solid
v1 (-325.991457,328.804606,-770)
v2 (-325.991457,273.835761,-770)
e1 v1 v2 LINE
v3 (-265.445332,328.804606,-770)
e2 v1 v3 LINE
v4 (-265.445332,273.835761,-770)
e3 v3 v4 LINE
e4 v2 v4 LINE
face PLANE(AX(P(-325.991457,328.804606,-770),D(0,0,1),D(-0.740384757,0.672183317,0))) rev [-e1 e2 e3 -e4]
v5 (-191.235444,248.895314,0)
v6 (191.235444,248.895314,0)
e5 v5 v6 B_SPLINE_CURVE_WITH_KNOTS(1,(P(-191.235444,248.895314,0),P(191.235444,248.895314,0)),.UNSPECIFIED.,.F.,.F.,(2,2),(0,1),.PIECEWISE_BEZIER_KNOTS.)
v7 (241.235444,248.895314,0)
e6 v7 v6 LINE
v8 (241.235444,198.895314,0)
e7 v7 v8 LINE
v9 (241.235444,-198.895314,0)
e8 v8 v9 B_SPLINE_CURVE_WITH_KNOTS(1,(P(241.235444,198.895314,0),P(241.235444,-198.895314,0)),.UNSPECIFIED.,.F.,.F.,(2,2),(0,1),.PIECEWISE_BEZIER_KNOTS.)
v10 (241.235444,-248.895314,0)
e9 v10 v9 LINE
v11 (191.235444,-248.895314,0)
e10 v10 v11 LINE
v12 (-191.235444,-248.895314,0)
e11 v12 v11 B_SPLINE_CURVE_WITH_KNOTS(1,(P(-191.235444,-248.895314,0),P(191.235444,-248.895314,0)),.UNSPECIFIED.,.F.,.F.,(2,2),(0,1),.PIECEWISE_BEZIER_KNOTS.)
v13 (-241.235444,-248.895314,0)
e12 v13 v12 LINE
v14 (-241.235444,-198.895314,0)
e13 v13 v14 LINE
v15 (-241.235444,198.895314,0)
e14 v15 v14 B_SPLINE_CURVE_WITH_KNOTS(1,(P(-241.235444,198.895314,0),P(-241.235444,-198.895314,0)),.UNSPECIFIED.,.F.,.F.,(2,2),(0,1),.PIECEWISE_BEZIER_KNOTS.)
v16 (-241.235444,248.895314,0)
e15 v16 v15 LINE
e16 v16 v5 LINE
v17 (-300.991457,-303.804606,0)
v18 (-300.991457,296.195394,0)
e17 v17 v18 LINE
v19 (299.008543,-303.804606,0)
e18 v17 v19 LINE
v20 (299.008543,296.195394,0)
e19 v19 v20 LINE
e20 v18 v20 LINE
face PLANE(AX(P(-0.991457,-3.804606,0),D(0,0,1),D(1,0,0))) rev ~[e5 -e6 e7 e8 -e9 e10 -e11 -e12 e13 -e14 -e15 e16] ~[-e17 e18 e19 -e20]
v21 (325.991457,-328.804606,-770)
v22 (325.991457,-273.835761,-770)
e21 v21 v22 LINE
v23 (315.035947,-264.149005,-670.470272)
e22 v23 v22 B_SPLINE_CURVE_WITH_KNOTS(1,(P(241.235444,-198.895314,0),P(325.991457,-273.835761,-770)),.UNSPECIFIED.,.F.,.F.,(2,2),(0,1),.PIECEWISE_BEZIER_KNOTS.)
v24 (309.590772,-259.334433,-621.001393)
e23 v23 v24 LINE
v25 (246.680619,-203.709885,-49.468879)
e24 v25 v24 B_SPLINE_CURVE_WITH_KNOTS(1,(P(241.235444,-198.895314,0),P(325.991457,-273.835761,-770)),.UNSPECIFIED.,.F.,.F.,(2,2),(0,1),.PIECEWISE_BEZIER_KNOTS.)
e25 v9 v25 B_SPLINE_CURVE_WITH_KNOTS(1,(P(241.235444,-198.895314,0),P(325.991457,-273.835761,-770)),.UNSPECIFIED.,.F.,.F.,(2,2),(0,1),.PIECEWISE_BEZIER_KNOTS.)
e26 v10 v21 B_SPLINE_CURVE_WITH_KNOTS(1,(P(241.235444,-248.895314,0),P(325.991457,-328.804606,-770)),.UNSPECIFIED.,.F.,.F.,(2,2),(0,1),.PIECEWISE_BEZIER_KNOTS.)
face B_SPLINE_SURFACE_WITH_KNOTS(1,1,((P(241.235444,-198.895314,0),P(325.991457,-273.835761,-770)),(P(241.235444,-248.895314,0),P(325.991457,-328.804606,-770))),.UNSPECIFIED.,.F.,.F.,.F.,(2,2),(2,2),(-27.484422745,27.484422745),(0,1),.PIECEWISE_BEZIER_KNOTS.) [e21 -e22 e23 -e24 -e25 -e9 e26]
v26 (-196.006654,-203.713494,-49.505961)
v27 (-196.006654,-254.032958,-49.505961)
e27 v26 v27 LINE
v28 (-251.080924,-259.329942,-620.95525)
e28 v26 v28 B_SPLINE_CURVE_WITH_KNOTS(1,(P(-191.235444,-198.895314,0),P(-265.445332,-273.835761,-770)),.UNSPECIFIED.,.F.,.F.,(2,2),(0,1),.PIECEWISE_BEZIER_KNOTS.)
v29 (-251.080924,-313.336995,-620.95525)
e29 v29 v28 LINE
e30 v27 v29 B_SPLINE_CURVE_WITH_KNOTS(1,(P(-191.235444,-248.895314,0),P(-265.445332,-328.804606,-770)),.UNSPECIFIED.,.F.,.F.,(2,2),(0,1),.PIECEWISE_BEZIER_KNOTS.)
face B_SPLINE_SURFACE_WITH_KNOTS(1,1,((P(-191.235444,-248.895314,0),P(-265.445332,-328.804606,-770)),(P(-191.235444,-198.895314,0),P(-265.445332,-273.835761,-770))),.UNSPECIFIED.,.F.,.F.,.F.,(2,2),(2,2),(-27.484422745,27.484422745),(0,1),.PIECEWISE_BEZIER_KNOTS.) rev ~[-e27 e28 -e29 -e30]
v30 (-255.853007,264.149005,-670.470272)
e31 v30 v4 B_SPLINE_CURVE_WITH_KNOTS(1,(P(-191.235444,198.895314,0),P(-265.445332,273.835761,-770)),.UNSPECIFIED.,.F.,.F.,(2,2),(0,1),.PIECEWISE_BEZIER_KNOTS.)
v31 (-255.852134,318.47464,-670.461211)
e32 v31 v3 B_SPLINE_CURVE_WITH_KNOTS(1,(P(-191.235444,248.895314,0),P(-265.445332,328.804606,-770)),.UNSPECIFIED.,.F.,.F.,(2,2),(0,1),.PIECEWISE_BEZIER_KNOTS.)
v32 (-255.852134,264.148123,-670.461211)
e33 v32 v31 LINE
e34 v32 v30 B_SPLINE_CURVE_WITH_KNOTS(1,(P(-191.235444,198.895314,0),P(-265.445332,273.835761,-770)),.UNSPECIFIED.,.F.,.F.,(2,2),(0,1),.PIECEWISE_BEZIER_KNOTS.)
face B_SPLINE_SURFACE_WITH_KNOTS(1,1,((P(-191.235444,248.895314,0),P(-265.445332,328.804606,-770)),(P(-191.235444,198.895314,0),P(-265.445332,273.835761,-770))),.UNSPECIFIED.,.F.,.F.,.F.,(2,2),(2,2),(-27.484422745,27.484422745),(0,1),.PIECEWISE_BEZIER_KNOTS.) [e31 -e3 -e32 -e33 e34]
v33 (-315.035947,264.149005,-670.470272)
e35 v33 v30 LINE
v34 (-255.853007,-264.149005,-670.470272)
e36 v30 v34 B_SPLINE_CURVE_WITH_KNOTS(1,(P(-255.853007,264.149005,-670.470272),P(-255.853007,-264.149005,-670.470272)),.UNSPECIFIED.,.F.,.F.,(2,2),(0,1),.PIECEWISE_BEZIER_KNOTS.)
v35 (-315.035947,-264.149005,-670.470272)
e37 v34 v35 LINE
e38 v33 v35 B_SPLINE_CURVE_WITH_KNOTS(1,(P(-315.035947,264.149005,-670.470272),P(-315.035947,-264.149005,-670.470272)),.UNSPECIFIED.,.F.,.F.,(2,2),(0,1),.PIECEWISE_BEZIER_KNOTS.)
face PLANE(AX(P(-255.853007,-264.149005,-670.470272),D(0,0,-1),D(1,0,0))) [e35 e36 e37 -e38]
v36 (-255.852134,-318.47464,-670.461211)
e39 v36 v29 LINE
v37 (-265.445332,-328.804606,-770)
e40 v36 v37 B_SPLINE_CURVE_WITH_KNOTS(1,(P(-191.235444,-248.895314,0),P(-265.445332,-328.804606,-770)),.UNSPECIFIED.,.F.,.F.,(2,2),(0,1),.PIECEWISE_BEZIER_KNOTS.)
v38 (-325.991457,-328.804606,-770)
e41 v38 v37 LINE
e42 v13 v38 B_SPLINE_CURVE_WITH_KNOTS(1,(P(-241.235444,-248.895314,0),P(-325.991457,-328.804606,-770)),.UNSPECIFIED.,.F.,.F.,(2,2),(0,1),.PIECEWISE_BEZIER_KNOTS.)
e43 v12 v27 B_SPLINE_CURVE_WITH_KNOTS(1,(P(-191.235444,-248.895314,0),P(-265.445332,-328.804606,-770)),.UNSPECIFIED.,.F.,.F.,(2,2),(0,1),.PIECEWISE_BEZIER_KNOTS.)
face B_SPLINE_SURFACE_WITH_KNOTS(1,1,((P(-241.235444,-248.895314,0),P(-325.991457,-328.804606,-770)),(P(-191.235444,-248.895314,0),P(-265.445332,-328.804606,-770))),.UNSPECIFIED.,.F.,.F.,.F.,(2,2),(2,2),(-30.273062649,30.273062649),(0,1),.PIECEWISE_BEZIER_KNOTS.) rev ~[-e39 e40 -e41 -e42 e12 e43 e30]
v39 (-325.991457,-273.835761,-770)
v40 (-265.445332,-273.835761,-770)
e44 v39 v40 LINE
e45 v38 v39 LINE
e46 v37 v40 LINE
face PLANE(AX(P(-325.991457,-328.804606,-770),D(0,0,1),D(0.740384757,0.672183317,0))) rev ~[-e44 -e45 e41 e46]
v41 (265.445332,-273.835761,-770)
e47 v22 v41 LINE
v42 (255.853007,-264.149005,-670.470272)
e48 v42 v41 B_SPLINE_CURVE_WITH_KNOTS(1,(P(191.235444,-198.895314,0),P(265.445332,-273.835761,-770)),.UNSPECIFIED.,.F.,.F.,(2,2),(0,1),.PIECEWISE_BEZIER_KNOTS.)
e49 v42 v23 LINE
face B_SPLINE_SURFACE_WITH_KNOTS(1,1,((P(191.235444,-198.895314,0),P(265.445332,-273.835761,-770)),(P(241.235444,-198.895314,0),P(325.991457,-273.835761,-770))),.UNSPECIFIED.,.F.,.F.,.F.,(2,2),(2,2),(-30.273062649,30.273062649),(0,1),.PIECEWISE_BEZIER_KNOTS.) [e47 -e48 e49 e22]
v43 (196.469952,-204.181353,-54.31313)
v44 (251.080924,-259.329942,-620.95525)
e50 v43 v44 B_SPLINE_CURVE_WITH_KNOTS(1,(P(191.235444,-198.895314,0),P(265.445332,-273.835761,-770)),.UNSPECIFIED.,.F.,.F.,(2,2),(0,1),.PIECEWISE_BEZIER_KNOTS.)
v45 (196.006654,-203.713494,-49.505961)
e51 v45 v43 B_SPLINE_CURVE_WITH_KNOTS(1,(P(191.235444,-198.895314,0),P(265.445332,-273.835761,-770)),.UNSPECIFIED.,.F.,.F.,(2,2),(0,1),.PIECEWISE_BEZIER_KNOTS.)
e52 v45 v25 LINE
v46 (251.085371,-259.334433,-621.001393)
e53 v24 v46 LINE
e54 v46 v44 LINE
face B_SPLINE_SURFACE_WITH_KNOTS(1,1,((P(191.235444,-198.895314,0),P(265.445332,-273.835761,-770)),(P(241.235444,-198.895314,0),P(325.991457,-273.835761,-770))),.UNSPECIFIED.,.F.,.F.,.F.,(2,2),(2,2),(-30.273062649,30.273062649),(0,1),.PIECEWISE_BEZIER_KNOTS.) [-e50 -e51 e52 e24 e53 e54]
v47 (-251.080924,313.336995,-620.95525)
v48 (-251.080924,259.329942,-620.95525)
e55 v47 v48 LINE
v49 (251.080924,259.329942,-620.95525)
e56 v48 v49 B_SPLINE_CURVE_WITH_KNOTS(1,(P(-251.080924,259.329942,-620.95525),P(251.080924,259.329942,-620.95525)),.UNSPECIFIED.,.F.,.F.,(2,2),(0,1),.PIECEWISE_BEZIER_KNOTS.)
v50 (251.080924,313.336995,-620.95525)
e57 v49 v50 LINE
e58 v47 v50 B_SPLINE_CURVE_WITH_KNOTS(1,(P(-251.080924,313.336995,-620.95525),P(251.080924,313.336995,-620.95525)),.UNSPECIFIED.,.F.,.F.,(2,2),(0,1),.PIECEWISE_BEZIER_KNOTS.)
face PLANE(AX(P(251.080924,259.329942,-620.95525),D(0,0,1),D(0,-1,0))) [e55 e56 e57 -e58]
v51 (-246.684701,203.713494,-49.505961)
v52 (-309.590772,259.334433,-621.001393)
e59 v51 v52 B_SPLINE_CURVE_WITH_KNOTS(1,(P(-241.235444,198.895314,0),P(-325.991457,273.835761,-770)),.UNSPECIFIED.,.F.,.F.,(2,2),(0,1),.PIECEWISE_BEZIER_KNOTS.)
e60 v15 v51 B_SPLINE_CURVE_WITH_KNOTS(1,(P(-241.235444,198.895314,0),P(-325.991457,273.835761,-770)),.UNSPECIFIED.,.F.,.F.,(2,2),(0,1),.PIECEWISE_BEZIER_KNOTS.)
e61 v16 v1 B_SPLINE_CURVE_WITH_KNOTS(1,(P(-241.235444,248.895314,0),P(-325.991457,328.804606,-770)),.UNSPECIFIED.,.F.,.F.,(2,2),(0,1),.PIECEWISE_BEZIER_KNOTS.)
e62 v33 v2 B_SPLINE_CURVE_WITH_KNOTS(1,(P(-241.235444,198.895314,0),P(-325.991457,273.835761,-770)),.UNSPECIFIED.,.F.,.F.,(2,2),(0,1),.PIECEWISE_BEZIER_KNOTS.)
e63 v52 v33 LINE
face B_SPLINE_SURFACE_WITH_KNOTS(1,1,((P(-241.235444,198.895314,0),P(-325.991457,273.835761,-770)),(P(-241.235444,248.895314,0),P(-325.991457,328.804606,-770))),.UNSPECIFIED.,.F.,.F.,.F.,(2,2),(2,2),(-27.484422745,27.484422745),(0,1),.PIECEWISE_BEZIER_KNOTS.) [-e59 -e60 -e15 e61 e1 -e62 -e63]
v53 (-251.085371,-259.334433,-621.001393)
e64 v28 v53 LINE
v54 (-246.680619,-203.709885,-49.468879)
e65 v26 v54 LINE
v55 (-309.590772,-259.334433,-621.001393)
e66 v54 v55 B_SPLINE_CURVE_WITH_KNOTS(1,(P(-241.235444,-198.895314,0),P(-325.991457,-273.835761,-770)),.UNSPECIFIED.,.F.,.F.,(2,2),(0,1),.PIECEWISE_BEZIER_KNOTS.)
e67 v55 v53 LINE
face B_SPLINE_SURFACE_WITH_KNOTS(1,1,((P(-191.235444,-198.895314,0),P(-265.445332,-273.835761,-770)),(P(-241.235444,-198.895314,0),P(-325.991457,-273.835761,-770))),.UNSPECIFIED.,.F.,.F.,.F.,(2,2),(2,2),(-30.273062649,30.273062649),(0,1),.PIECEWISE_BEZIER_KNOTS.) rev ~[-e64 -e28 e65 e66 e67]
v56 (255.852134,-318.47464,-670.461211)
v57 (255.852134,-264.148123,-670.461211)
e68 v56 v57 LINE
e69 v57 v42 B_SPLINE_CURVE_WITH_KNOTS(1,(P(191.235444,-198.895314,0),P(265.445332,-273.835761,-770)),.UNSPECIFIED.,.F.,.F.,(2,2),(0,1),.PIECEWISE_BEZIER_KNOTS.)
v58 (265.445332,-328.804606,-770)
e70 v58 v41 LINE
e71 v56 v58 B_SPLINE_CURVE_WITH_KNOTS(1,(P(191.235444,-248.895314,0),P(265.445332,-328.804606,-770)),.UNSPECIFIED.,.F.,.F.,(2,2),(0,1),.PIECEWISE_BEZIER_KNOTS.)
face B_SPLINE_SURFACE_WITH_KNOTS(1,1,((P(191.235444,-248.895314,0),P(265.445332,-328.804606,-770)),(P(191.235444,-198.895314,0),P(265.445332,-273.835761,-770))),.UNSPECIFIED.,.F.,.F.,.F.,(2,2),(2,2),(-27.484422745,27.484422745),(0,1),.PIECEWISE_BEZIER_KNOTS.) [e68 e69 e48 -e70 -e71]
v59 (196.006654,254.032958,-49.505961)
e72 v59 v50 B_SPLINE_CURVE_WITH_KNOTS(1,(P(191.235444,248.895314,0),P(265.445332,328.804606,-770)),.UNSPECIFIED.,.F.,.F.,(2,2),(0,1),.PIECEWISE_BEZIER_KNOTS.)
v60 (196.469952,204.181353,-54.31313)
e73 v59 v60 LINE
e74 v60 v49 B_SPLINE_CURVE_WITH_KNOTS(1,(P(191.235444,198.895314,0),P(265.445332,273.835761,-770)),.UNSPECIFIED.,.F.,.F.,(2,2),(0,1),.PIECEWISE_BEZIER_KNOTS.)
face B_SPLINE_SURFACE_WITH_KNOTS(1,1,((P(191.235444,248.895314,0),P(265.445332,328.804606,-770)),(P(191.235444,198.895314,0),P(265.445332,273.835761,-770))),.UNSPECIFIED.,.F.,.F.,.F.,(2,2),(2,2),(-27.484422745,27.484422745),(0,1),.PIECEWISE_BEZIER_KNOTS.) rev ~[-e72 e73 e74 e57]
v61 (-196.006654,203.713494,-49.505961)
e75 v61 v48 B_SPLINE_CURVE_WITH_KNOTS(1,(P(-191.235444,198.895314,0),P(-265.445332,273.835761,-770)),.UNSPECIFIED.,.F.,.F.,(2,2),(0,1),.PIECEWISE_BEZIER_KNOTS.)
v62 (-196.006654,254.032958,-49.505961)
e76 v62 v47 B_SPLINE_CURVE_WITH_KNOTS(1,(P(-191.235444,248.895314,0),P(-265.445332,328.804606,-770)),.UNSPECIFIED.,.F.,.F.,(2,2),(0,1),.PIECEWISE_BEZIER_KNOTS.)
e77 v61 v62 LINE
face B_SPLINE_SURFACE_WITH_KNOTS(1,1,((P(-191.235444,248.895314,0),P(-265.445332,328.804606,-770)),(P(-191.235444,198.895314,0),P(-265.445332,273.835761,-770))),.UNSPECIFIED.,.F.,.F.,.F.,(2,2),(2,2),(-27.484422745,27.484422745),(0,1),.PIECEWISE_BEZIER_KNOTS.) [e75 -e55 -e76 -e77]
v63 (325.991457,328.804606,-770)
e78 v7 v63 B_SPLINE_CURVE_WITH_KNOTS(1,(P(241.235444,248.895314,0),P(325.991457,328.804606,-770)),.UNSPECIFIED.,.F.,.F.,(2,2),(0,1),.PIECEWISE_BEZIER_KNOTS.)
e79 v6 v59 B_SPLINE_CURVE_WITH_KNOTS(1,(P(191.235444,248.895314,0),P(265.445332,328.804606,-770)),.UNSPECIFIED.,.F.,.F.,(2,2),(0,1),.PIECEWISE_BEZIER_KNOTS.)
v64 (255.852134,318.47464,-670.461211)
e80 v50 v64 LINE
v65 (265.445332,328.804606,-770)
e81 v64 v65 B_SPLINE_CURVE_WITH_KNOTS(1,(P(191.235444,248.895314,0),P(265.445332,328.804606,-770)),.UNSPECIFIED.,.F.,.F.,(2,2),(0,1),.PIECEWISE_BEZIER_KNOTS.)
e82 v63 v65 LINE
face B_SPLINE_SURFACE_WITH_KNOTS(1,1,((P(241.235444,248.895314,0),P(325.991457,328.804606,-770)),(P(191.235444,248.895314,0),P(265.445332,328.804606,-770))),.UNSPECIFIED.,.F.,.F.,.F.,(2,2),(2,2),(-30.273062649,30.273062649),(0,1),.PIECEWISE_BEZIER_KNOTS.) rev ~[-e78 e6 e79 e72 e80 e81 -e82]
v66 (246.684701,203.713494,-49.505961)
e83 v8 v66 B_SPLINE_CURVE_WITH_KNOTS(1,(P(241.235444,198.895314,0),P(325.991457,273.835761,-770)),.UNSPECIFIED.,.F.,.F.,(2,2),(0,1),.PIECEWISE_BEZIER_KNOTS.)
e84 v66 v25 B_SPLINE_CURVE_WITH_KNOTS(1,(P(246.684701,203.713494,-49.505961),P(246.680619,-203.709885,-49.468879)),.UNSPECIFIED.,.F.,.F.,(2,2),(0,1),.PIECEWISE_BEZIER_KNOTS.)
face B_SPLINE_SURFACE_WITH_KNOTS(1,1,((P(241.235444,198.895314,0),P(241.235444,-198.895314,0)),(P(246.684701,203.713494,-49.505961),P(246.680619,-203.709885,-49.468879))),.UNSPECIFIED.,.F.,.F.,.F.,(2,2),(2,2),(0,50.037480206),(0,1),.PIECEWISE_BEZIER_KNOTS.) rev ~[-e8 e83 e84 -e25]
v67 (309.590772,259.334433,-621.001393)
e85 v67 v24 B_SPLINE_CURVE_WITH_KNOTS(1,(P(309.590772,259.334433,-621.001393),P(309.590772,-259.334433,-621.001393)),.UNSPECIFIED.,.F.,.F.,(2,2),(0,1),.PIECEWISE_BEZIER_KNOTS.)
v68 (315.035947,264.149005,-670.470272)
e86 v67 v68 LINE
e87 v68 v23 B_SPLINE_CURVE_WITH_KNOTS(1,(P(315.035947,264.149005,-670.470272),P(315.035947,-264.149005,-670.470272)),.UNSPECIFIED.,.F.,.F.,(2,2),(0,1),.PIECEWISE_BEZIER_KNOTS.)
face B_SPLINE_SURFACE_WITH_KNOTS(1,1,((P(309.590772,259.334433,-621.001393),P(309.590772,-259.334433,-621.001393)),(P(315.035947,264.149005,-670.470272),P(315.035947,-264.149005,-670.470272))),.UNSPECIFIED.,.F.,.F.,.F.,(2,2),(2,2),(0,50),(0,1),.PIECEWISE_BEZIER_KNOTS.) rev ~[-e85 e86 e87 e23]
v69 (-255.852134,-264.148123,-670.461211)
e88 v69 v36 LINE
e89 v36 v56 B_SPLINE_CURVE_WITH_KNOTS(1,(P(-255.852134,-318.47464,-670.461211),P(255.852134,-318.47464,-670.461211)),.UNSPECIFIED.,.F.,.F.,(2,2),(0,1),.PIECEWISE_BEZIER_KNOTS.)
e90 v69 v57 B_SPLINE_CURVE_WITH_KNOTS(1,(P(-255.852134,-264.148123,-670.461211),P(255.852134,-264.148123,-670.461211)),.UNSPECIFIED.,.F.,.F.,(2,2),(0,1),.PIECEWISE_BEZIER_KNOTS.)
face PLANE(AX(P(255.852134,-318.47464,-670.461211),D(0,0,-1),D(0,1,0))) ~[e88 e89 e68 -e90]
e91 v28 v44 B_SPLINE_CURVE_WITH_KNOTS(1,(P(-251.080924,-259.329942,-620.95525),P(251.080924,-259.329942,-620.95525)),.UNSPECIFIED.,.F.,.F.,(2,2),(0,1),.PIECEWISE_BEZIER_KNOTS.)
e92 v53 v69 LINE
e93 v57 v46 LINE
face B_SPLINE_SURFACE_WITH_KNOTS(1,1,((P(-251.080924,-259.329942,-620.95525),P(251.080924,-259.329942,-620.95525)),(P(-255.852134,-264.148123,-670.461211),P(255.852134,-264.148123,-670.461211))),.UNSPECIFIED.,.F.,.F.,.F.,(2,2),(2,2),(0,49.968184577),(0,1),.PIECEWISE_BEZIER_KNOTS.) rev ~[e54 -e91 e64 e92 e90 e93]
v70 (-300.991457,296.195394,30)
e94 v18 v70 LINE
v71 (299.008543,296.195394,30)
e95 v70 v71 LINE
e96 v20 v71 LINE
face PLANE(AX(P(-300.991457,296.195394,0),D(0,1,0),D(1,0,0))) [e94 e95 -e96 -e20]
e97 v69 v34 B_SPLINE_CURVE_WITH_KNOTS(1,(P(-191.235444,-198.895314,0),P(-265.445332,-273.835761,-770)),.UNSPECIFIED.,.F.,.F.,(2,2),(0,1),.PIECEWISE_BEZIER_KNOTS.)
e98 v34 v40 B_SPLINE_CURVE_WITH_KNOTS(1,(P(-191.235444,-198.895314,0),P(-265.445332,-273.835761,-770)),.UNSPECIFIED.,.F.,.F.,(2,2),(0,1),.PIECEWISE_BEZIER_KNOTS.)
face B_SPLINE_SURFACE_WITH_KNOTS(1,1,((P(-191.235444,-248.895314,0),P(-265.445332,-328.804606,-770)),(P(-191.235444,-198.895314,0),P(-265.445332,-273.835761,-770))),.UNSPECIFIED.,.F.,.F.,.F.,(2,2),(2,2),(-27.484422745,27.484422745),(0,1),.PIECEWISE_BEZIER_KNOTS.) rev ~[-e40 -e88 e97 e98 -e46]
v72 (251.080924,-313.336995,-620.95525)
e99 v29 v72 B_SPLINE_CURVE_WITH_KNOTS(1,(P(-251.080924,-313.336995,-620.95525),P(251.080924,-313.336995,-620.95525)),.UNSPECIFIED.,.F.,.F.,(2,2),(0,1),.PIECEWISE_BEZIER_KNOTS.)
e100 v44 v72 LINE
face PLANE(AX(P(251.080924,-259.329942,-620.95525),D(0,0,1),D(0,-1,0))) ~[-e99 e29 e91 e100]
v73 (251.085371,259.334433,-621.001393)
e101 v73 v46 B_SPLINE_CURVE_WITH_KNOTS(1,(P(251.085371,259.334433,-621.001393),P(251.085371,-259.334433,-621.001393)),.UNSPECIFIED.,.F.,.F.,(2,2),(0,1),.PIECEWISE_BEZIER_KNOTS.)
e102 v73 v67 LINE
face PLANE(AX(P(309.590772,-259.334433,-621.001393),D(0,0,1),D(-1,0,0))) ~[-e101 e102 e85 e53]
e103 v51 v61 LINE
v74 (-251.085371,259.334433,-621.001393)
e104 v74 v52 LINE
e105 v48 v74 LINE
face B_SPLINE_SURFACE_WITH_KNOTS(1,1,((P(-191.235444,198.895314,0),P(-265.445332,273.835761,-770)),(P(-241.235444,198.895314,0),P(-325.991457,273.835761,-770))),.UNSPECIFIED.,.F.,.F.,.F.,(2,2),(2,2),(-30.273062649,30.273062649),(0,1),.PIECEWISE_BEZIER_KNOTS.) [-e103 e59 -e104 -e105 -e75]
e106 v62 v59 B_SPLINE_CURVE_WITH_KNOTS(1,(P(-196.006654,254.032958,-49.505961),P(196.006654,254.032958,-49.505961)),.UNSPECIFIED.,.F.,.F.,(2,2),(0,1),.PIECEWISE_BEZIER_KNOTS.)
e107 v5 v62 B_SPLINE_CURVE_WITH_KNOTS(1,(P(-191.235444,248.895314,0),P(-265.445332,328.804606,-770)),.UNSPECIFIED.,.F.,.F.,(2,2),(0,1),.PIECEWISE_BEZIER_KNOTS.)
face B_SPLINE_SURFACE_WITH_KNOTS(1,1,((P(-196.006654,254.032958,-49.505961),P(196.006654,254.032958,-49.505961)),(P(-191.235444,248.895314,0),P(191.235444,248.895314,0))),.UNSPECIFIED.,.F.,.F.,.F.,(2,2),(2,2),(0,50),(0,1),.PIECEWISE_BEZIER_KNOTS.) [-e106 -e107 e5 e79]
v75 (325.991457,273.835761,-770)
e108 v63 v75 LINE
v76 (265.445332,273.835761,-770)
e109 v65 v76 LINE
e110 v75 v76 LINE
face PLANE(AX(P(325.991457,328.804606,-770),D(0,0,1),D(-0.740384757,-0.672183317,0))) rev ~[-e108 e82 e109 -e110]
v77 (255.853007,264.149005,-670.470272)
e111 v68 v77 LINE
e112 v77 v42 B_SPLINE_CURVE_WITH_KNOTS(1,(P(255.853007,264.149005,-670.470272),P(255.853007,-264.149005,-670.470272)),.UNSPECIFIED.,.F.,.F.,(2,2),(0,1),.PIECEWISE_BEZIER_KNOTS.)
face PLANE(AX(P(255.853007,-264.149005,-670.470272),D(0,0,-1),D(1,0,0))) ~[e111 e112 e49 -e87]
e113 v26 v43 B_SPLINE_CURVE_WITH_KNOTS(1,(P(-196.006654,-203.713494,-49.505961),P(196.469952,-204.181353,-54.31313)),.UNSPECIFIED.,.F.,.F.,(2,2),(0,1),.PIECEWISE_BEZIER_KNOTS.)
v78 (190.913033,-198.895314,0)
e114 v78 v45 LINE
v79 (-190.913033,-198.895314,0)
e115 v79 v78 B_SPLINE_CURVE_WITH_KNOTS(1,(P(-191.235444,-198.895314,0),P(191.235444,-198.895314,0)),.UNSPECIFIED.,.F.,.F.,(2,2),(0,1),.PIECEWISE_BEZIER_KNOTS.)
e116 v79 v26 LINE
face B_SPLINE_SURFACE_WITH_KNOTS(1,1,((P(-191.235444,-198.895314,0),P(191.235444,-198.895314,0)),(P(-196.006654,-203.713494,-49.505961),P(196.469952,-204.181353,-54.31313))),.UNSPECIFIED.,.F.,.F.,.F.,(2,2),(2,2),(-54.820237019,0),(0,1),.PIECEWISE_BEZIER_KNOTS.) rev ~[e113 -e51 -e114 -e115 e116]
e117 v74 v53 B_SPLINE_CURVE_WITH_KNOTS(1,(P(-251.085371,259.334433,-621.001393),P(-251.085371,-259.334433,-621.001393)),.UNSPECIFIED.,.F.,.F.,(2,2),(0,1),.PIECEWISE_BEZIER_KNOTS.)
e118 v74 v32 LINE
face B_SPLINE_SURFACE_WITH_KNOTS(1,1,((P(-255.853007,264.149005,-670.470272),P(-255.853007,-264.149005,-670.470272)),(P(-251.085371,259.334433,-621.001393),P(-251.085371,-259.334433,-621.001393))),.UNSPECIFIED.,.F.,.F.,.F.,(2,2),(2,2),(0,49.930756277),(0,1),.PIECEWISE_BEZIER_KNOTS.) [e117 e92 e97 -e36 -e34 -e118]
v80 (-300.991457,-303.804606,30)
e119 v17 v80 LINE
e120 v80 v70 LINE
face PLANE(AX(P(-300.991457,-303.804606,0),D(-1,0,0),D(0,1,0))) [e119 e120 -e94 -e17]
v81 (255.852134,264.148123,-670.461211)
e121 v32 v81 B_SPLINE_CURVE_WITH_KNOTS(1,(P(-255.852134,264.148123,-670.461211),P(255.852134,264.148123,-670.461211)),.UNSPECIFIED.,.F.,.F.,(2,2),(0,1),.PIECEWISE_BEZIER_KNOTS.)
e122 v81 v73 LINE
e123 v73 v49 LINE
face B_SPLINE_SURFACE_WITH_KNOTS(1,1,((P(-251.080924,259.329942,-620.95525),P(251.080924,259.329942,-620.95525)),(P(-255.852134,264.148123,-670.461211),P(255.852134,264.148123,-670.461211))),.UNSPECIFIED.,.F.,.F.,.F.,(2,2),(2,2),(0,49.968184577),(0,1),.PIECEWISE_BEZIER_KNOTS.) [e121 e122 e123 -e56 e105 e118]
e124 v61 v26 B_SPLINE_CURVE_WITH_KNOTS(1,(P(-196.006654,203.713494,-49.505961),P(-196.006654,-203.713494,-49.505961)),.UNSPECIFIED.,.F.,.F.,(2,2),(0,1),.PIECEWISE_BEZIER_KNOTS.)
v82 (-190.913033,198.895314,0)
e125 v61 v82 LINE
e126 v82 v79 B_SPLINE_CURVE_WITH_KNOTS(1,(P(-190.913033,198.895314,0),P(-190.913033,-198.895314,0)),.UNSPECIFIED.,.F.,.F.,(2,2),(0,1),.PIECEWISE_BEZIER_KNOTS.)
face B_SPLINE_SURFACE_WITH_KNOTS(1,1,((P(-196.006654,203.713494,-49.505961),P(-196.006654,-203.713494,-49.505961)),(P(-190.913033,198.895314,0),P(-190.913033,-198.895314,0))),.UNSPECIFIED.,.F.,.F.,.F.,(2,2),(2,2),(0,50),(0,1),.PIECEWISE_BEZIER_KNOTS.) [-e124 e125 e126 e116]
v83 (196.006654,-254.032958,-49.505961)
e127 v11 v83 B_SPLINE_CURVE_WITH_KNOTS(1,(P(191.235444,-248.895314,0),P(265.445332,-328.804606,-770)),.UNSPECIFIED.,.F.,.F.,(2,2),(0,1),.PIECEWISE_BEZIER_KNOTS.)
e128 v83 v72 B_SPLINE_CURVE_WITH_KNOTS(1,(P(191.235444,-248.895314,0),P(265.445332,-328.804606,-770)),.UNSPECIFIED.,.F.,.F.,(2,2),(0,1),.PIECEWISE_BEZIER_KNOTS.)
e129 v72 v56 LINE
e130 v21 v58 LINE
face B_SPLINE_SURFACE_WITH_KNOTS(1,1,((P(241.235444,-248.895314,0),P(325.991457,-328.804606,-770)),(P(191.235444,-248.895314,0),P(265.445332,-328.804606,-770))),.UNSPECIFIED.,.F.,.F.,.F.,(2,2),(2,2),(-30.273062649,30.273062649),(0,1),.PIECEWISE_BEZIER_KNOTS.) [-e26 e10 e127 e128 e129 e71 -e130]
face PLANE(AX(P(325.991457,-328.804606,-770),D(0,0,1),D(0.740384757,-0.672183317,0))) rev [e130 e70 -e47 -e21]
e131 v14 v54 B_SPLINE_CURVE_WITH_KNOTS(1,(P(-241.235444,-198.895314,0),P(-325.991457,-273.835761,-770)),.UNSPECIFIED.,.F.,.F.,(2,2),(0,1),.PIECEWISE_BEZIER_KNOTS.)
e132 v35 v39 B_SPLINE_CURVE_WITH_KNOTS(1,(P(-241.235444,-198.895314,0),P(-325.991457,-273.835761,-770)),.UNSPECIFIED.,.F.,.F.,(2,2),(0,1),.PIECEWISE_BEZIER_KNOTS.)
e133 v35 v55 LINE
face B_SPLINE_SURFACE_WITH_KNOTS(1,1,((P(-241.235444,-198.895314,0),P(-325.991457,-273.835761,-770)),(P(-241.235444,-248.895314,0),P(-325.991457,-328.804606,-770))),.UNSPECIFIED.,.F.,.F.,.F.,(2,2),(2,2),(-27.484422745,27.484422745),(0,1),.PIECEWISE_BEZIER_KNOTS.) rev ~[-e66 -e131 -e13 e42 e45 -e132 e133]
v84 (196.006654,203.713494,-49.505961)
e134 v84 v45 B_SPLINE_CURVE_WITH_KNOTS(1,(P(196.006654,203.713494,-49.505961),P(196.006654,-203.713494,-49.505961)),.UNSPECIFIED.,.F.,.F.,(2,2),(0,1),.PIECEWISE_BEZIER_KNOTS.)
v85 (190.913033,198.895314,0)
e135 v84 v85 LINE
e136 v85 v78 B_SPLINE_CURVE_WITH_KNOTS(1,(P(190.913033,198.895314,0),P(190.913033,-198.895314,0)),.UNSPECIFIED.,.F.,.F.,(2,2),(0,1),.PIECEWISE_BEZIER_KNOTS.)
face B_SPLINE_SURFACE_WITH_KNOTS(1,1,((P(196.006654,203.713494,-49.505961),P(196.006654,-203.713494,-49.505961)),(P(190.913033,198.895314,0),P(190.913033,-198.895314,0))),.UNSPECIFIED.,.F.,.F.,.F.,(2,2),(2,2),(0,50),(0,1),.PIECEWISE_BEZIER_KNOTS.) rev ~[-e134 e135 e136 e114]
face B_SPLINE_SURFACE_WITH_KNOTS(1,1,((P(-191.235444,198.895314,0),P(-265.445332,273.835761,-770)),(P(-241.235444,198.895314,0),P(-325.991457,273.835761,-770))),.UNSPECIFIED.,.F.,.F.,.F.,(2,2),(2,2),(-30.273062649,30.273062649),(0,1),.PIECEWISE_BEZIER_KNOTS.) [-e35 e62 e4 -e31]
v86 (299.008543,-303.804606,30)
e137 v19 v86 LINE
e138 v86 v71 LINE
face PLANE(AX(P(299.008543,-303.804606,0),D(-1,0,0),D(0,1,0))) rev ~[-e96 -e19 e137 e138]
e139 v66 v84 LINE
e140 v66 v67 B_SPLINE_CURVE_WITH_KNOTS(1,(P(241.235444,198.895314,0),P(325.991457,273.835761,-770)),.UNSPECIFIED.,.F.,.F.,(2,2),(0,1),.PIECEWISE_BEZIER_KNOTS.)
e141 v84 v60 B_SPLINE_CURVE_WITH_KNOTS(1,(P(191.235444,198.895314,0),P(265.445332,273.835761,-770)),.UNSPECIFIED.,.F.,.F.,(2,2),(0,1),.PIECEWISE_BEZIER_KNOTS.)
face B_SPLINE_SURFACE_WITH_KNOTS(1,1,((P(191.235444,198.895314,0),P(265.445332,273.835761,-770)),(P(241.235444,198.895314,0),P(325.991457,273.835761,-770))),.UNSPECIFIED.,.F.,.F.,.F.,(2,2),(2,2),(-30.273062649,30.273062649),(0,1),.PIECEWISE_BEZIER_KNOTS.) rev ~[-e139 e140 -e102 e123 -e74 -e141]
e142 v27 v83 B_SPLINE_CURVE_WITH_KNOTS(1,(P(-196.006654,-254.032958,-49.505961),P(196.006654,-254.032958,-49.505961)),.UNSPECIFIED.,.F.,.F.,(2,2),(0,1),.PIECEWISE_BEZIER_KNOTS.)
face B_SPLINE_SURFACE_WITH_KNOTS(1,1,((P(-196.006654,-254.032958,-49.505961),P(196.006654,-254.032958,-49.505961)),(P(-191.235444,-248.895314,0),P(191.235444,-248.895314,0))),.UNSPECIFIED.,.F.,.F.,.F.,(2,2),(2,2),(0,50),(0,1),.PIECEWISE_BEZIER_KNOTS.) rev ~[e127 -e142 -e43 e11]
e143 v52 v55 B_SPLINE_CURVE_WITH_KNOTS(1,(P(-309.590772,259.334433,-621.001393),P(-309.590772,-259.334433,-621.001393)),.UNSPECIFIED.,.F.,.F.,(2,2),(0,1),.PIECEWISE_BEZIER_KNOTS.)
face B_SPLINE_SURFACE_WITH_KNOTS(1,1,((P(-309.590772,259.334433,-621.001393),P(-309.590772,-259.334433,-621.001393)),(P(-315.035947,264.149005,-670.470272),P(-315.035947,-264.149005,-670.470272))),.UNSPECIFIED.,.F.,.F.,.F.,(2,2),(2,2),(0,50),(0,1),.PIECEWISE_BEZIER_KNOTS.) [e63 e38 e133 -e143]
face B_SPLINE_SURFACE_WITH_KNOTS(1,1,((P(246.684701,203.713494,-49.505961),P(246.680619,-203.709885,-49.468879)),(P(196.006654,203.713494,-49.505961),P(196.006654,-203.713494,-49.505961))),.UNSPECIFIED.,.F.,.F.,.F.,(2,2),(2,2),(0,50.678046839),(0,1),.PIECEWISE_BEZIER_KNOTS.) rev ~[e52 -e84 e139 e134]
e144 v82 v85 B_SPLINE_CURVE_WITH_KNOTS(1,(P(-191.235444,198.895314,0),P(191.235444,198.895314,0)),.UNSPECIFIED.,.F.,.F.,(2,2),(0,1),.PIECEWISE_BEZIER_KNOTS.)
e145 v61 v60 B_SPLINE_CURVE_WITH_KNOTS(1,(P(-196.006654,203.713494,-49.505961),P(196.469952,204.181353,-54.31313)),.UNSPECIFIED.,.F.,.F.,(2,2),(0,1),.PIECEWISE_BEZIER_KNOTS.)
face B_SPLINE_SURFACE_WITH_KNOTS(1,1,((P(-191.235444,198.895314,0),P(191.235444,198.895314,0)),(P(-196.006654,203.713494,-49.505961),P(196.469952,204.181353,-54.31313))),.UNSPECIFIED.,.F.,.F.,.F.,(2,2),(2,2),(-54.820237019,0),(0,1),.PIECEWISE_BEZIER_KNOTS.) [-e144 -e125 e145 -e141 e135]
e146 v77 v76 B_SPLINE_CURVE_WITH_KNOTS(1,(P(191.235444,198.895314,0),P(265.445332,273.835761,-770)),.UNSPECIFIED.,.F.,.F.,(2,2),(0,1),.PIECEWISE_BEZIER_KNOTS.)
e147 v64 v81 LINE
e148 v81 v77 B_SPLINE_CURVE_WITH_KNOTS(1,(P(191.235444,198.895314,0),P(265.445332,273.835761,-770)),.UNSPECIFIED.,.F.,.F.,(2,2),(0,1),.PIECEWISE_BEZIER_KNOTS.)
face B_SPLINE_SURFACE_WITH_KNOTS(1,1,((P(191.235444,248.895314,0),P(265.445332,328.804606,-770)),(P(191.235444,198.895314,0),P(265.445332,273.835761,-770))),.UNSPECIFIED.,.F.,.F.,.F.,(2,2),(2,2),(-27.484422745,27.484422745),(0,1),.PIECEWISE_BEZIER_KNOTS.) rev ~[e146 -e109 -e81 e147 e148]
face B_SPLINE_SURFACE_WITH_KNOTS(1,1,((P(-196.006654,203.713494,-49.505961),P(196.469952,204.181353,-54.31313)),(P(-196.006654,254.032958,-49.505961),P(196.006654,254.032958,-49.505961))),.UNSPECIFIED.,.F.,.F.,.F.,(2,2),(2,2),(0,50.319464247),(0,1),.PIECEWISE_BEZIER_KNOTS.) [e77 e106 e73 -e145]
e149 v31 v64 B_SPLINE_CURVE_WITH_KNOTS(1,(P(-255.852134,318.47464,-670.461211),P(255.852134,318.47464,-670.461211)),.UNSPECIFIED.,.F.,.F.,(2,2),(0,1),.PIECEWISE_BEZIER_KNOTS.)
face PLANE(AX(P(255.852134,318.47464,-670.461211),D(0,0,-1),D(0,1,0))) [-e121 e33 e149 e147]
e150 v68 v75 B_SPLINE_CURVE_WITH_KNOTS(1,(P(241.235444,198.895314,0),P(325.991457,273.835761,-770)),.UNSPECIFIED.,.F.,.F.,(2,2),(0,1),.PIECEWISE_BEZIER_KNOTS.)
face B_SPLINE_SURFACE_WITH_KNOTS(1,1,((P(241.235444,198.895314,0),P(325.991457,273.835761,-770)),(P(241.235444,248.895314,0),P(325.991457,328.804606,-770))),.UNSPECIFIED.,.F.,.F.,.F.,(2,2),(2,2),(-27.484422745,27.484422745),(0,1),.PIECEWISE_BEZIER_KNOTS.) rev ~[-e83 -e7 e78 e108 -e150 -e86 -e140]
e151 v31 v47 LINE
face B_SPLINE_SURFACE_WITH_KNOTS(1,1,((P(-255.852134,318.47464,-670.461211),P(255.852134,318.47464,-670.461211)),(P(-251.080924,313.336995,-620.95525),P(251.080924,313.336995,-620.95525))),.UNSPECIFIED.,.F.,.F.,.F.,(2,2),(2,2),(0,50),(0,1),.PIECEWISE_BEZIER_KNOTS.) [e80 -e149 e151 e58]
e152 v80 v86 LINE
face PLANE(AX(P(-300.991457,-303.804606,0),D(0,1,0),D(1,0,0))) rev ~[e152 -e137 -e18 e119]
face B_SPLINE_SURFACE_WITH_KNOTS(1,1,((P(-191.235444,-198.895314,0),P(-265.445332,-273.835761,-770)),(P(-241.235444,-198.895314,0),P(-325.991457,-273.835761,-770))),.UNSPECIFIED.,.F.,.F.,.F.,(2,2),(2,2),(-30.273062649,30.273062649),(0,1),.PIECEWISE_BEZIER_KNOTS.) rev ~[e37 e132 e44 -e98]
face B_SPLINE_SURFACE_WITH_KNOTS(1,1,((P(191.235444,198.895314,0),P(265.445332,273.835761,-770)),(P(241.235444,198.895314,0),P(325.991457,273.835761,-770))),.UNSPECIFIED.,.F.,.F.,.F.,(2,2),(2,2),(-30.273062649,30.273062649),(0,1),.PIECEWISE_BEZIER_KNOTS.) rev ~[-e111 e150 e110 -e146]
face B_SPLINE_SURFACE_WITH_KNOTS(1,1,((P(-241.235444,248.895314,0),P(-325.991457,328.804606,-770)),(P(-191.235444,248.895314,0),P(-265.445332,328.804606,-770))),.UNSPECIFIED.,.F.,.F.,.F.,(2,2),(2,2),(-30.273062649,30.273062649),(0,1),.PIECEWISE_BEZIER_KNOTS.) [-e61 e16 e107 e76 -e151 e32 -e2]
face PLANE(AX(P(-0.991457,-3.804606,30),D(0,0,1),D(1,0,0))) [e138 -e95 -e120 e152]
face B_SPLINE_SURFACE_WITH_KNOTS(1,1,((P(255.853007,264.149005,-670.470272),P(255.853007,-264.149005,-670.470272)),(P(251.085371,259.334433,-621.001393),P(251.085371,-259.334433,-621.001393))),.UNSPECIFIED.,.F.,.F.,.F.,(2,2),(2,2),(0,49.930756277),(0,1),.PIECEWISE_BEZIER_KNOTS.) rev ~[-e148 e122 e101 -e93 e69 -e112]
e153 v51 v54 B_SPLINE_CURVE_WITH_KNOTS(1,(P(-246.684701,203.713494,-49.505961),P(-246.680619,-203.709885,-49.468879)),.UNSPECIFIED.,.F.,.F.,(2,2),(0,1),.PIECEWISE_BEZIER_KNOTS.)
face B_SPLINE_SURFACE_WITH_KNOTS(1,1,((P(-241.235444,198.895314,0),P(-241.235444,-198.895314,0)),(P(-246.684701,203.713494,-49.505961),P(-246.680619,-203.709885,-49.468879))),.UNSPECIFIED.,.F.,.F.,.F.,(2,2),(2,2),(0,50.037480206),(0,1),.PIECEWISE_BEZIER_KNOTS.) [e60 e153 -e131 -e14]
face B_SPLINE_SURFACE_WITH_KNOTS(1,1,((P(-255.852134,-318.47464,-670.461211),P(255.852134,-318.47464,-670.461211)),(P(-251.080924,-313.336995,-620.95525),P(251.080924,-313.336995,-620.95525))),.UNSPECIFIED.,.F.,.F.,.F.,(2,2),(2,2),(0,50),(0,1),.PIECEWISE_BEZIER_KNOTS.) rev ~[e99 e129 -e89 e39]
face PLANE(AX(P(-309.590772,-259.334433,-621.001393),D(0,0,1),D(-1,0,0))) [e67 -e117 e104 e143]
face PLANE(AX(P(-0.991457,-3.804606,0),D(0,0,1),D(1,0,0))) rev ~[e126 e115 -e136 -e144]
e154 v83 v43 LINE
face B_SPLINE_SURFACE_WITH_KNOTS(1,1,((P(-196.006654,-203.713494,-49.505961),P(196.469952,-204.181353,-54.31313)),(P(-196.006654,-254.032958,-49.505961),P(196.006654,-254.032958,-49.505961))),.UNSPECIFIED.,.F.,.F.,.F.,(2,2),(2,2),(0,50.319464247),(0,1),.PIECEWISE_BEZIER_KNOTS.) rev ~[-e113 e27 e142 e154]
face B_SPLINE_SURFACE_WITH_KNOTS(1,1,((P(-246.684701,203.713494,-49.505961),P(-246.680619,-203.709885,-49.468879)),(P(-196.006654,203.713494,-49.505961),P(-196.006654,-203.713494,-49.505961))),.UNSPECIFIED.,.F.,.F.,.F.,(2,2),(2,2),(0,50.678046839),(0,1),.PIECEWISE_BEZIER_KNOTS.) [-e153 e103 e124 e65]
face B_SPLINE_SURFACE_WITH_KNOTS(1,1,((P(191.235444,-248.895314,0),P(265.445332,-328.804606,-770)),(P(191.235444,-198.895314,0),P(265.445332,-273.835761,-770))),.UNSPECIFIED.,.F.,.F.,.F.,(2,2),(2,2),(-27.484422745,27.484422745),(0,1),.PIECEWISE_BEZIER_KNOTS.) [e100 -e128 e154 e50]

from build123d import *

# Parameters (mm, degrees)
F0_W     = 600
F0_H     = 600
F1_DEPTH = 30
F2_W     = 50
F2_H     = 50
F4_W     = 60.5461252972
F4_H     = 54.9688454909


with BuildPart() as f1:
    # F0 (on Top) → F1 (new body)
    with BuildSketch(Plane.XY):
        with Locations((-0.9914571419, -3.804606373)):
            Rectangle(F0_W, F0_H)
    extrude(amount=F1_DEPTH)

    # F7: F6_1, F5 across plane


with BuildPart() as f5:
    # F2 (on Top) → F5 section 0
    with BuildSketch(Plane.XY):
        with Locations((-216.2354439497, -223.8953137973)):
            Rectangle(F2_W, F2_H)
    # F4 (on offset) → F5 section 1
    with BuildSketch(Plane.XY.offset(-770)):
        with Locations((-295.7183944933, -301.3201836275)):
            Rectangle(F4_W, F4_H)
    loft()


with BuildPart() as f6_1:
    # F6: instance of F5
    add(f5.part.mirror(Plane.YZ))


with BuildPart() as f1_1:
    add(f1.part)
    add(f6_1.part.mirror(Plane.XZ))
    add(f5.part.mirror(Plane.XZ))


    add(f5.part)  # F19 merges F5

    add(f6_1.part)  # F19 merges F6_1
    # F19: F18 across plane


with BuildPart() as f10:
    # F9 (on face) → F10 section 0
    with BuildSketch(Plane(origin=(-189.4755147525, 0, 18.2609827385), x_dir=(0, 1, 0), z_dir=(0.9953878919, 0, -0.0959319791))):
        Polygon((259.3299424331, -642.1780271339), (264.1481227465, -691.9133727984), (318.4746398428, -691.9133727984), (313.336995282, -642.1780271339), align=None)
    # F8 (on face) → F10 section 1
    with BuildSketch(Plane(origin=(189.4755147525, 0, 18.2609827385), x_dir=(0, -1, 0), z_dir=(-0.9953878919, 0, -0.0959319791))):
        Polygon((-313.336995282, -642.1780271339), (-318.4746398428, -691.9133727984), (-264.1481227465, -691.9133727984), (-259.3299424331, -642.1780271339), align=None)
    loft()


with BuildPart() as f11_1:
    # F11: instance of F10
    add(f10.part.mirror(Plane.XZ))


with BuildPart() as f14:
    # F13 (on face) → F14 section 0
    with BuildSketch(Plane(origin=(0, 197.0290144931, 19.175899266), x_dir=(1, 0, 0), z_dir=(0, -0.9952972799, -0.0968675625))):
        Polygon((-255.8530072263, -692.904708192), (-251.0853709275, -643.202091898), (-309.5907715802, -643.202091898), (-315.0359468324, -692.904708192), align=None)
    # F12 (on face) → F14 section 1
    with BuildSketch(Plane(origin=(0, -197.0290144931, 19.175899266), x_dir=(-1, 0, 0), z_dir=(0, 0.9952972799, -0.0968675625))):
        Polygon((251.0853709275, -643.202091898), (255.8530072263, -692.904708192), (315.0359468324, -692.904708192), (309.5907715802, -643.202091898), align=None)
    loft()


with BuildPart() as f15_1:
    # F15: instance of F14
    add(f14.part.mirror(Plane.YZ))


with BuildPart() as f18:
    # F17 (on face) → F18 section 0
    with BuildSketch(Plane(origin=(-189.4755147525, 0, 18.2609827385), x_dir=(0, 1, 0), z_dir=(0.9953878919, 0, -0.0959319791))):
        Polygon((254.0329583581, -68.080940268), (248.8953137973, -18.3455946035), (198.8953137973, -18.3455946035), (203.7134941108, -68.080940268), align=None)
    # F16 (on face) → F18 section 1
    with BuildSketch(Plane(origin=(189.4755147525, 0, 18.2609827385), x_dir=(0, -1, 0), z_dir=(-0.9953878919, 0, -0.0959319791))):
        Polygon((-198.8953137973, -18.3455946035), (-248.8953137973, -18.3455946035), (-254.0329583581, -68.080940268), (-204.1813530846, -72.9103833916), align=None)
    loft()


with BuildPart() as f1_2:
    add(f1_1.part)
    add(f18.part.mirror(Plane.XZ))



with BuildPart() as f22:
    # F21 (on face) → F22 section 0
    with BuildSketch(Plane(origin=(0, 197.0290144931, 19.175899266), x_dir=(1, 0, 0), z_dir=(0, -0.9952972799, -0.0968675625))):
        Polygon((-190.9130329513, -19.2665042431), (-241.2354439497, -19.2665042431), (-246.6847009277, -69.0063778227), (-196.0066540883, -69.0063778227), align=None)
    # F20 (on face) → F22 section 1
    with BuildSketch(Plane(origin=(0, -197.0290144931, 19.175899266), x_dir=(-1, 0, 0), z_dir=(0, 0.9952972799, -0.0968675625))):
        Polygon((241.2354439497, -19.2665042431), (190.9130329513, -19.2665042431), (196.0066540883, -69.0063778227), (246.6806192019, -68.9691205372), align=None)
    loft()


with BuildPart() as f1_3:
    add(f1_2.part)

    add(f10.part)  # F23 merges F10

    add(f11_1.part)  # F23 merges F11_1

    add(f14.part)  # F23 merges F14

    add(f15_1.part)  # F23 merges F15_1

    add(f18.part)  # F23 merges F18

    add(f22.part)  # F23 merges F22
    # F23: F22 across plane
    add(f22.part.mirror(Plane.YZ))


solid = f1_3.part
